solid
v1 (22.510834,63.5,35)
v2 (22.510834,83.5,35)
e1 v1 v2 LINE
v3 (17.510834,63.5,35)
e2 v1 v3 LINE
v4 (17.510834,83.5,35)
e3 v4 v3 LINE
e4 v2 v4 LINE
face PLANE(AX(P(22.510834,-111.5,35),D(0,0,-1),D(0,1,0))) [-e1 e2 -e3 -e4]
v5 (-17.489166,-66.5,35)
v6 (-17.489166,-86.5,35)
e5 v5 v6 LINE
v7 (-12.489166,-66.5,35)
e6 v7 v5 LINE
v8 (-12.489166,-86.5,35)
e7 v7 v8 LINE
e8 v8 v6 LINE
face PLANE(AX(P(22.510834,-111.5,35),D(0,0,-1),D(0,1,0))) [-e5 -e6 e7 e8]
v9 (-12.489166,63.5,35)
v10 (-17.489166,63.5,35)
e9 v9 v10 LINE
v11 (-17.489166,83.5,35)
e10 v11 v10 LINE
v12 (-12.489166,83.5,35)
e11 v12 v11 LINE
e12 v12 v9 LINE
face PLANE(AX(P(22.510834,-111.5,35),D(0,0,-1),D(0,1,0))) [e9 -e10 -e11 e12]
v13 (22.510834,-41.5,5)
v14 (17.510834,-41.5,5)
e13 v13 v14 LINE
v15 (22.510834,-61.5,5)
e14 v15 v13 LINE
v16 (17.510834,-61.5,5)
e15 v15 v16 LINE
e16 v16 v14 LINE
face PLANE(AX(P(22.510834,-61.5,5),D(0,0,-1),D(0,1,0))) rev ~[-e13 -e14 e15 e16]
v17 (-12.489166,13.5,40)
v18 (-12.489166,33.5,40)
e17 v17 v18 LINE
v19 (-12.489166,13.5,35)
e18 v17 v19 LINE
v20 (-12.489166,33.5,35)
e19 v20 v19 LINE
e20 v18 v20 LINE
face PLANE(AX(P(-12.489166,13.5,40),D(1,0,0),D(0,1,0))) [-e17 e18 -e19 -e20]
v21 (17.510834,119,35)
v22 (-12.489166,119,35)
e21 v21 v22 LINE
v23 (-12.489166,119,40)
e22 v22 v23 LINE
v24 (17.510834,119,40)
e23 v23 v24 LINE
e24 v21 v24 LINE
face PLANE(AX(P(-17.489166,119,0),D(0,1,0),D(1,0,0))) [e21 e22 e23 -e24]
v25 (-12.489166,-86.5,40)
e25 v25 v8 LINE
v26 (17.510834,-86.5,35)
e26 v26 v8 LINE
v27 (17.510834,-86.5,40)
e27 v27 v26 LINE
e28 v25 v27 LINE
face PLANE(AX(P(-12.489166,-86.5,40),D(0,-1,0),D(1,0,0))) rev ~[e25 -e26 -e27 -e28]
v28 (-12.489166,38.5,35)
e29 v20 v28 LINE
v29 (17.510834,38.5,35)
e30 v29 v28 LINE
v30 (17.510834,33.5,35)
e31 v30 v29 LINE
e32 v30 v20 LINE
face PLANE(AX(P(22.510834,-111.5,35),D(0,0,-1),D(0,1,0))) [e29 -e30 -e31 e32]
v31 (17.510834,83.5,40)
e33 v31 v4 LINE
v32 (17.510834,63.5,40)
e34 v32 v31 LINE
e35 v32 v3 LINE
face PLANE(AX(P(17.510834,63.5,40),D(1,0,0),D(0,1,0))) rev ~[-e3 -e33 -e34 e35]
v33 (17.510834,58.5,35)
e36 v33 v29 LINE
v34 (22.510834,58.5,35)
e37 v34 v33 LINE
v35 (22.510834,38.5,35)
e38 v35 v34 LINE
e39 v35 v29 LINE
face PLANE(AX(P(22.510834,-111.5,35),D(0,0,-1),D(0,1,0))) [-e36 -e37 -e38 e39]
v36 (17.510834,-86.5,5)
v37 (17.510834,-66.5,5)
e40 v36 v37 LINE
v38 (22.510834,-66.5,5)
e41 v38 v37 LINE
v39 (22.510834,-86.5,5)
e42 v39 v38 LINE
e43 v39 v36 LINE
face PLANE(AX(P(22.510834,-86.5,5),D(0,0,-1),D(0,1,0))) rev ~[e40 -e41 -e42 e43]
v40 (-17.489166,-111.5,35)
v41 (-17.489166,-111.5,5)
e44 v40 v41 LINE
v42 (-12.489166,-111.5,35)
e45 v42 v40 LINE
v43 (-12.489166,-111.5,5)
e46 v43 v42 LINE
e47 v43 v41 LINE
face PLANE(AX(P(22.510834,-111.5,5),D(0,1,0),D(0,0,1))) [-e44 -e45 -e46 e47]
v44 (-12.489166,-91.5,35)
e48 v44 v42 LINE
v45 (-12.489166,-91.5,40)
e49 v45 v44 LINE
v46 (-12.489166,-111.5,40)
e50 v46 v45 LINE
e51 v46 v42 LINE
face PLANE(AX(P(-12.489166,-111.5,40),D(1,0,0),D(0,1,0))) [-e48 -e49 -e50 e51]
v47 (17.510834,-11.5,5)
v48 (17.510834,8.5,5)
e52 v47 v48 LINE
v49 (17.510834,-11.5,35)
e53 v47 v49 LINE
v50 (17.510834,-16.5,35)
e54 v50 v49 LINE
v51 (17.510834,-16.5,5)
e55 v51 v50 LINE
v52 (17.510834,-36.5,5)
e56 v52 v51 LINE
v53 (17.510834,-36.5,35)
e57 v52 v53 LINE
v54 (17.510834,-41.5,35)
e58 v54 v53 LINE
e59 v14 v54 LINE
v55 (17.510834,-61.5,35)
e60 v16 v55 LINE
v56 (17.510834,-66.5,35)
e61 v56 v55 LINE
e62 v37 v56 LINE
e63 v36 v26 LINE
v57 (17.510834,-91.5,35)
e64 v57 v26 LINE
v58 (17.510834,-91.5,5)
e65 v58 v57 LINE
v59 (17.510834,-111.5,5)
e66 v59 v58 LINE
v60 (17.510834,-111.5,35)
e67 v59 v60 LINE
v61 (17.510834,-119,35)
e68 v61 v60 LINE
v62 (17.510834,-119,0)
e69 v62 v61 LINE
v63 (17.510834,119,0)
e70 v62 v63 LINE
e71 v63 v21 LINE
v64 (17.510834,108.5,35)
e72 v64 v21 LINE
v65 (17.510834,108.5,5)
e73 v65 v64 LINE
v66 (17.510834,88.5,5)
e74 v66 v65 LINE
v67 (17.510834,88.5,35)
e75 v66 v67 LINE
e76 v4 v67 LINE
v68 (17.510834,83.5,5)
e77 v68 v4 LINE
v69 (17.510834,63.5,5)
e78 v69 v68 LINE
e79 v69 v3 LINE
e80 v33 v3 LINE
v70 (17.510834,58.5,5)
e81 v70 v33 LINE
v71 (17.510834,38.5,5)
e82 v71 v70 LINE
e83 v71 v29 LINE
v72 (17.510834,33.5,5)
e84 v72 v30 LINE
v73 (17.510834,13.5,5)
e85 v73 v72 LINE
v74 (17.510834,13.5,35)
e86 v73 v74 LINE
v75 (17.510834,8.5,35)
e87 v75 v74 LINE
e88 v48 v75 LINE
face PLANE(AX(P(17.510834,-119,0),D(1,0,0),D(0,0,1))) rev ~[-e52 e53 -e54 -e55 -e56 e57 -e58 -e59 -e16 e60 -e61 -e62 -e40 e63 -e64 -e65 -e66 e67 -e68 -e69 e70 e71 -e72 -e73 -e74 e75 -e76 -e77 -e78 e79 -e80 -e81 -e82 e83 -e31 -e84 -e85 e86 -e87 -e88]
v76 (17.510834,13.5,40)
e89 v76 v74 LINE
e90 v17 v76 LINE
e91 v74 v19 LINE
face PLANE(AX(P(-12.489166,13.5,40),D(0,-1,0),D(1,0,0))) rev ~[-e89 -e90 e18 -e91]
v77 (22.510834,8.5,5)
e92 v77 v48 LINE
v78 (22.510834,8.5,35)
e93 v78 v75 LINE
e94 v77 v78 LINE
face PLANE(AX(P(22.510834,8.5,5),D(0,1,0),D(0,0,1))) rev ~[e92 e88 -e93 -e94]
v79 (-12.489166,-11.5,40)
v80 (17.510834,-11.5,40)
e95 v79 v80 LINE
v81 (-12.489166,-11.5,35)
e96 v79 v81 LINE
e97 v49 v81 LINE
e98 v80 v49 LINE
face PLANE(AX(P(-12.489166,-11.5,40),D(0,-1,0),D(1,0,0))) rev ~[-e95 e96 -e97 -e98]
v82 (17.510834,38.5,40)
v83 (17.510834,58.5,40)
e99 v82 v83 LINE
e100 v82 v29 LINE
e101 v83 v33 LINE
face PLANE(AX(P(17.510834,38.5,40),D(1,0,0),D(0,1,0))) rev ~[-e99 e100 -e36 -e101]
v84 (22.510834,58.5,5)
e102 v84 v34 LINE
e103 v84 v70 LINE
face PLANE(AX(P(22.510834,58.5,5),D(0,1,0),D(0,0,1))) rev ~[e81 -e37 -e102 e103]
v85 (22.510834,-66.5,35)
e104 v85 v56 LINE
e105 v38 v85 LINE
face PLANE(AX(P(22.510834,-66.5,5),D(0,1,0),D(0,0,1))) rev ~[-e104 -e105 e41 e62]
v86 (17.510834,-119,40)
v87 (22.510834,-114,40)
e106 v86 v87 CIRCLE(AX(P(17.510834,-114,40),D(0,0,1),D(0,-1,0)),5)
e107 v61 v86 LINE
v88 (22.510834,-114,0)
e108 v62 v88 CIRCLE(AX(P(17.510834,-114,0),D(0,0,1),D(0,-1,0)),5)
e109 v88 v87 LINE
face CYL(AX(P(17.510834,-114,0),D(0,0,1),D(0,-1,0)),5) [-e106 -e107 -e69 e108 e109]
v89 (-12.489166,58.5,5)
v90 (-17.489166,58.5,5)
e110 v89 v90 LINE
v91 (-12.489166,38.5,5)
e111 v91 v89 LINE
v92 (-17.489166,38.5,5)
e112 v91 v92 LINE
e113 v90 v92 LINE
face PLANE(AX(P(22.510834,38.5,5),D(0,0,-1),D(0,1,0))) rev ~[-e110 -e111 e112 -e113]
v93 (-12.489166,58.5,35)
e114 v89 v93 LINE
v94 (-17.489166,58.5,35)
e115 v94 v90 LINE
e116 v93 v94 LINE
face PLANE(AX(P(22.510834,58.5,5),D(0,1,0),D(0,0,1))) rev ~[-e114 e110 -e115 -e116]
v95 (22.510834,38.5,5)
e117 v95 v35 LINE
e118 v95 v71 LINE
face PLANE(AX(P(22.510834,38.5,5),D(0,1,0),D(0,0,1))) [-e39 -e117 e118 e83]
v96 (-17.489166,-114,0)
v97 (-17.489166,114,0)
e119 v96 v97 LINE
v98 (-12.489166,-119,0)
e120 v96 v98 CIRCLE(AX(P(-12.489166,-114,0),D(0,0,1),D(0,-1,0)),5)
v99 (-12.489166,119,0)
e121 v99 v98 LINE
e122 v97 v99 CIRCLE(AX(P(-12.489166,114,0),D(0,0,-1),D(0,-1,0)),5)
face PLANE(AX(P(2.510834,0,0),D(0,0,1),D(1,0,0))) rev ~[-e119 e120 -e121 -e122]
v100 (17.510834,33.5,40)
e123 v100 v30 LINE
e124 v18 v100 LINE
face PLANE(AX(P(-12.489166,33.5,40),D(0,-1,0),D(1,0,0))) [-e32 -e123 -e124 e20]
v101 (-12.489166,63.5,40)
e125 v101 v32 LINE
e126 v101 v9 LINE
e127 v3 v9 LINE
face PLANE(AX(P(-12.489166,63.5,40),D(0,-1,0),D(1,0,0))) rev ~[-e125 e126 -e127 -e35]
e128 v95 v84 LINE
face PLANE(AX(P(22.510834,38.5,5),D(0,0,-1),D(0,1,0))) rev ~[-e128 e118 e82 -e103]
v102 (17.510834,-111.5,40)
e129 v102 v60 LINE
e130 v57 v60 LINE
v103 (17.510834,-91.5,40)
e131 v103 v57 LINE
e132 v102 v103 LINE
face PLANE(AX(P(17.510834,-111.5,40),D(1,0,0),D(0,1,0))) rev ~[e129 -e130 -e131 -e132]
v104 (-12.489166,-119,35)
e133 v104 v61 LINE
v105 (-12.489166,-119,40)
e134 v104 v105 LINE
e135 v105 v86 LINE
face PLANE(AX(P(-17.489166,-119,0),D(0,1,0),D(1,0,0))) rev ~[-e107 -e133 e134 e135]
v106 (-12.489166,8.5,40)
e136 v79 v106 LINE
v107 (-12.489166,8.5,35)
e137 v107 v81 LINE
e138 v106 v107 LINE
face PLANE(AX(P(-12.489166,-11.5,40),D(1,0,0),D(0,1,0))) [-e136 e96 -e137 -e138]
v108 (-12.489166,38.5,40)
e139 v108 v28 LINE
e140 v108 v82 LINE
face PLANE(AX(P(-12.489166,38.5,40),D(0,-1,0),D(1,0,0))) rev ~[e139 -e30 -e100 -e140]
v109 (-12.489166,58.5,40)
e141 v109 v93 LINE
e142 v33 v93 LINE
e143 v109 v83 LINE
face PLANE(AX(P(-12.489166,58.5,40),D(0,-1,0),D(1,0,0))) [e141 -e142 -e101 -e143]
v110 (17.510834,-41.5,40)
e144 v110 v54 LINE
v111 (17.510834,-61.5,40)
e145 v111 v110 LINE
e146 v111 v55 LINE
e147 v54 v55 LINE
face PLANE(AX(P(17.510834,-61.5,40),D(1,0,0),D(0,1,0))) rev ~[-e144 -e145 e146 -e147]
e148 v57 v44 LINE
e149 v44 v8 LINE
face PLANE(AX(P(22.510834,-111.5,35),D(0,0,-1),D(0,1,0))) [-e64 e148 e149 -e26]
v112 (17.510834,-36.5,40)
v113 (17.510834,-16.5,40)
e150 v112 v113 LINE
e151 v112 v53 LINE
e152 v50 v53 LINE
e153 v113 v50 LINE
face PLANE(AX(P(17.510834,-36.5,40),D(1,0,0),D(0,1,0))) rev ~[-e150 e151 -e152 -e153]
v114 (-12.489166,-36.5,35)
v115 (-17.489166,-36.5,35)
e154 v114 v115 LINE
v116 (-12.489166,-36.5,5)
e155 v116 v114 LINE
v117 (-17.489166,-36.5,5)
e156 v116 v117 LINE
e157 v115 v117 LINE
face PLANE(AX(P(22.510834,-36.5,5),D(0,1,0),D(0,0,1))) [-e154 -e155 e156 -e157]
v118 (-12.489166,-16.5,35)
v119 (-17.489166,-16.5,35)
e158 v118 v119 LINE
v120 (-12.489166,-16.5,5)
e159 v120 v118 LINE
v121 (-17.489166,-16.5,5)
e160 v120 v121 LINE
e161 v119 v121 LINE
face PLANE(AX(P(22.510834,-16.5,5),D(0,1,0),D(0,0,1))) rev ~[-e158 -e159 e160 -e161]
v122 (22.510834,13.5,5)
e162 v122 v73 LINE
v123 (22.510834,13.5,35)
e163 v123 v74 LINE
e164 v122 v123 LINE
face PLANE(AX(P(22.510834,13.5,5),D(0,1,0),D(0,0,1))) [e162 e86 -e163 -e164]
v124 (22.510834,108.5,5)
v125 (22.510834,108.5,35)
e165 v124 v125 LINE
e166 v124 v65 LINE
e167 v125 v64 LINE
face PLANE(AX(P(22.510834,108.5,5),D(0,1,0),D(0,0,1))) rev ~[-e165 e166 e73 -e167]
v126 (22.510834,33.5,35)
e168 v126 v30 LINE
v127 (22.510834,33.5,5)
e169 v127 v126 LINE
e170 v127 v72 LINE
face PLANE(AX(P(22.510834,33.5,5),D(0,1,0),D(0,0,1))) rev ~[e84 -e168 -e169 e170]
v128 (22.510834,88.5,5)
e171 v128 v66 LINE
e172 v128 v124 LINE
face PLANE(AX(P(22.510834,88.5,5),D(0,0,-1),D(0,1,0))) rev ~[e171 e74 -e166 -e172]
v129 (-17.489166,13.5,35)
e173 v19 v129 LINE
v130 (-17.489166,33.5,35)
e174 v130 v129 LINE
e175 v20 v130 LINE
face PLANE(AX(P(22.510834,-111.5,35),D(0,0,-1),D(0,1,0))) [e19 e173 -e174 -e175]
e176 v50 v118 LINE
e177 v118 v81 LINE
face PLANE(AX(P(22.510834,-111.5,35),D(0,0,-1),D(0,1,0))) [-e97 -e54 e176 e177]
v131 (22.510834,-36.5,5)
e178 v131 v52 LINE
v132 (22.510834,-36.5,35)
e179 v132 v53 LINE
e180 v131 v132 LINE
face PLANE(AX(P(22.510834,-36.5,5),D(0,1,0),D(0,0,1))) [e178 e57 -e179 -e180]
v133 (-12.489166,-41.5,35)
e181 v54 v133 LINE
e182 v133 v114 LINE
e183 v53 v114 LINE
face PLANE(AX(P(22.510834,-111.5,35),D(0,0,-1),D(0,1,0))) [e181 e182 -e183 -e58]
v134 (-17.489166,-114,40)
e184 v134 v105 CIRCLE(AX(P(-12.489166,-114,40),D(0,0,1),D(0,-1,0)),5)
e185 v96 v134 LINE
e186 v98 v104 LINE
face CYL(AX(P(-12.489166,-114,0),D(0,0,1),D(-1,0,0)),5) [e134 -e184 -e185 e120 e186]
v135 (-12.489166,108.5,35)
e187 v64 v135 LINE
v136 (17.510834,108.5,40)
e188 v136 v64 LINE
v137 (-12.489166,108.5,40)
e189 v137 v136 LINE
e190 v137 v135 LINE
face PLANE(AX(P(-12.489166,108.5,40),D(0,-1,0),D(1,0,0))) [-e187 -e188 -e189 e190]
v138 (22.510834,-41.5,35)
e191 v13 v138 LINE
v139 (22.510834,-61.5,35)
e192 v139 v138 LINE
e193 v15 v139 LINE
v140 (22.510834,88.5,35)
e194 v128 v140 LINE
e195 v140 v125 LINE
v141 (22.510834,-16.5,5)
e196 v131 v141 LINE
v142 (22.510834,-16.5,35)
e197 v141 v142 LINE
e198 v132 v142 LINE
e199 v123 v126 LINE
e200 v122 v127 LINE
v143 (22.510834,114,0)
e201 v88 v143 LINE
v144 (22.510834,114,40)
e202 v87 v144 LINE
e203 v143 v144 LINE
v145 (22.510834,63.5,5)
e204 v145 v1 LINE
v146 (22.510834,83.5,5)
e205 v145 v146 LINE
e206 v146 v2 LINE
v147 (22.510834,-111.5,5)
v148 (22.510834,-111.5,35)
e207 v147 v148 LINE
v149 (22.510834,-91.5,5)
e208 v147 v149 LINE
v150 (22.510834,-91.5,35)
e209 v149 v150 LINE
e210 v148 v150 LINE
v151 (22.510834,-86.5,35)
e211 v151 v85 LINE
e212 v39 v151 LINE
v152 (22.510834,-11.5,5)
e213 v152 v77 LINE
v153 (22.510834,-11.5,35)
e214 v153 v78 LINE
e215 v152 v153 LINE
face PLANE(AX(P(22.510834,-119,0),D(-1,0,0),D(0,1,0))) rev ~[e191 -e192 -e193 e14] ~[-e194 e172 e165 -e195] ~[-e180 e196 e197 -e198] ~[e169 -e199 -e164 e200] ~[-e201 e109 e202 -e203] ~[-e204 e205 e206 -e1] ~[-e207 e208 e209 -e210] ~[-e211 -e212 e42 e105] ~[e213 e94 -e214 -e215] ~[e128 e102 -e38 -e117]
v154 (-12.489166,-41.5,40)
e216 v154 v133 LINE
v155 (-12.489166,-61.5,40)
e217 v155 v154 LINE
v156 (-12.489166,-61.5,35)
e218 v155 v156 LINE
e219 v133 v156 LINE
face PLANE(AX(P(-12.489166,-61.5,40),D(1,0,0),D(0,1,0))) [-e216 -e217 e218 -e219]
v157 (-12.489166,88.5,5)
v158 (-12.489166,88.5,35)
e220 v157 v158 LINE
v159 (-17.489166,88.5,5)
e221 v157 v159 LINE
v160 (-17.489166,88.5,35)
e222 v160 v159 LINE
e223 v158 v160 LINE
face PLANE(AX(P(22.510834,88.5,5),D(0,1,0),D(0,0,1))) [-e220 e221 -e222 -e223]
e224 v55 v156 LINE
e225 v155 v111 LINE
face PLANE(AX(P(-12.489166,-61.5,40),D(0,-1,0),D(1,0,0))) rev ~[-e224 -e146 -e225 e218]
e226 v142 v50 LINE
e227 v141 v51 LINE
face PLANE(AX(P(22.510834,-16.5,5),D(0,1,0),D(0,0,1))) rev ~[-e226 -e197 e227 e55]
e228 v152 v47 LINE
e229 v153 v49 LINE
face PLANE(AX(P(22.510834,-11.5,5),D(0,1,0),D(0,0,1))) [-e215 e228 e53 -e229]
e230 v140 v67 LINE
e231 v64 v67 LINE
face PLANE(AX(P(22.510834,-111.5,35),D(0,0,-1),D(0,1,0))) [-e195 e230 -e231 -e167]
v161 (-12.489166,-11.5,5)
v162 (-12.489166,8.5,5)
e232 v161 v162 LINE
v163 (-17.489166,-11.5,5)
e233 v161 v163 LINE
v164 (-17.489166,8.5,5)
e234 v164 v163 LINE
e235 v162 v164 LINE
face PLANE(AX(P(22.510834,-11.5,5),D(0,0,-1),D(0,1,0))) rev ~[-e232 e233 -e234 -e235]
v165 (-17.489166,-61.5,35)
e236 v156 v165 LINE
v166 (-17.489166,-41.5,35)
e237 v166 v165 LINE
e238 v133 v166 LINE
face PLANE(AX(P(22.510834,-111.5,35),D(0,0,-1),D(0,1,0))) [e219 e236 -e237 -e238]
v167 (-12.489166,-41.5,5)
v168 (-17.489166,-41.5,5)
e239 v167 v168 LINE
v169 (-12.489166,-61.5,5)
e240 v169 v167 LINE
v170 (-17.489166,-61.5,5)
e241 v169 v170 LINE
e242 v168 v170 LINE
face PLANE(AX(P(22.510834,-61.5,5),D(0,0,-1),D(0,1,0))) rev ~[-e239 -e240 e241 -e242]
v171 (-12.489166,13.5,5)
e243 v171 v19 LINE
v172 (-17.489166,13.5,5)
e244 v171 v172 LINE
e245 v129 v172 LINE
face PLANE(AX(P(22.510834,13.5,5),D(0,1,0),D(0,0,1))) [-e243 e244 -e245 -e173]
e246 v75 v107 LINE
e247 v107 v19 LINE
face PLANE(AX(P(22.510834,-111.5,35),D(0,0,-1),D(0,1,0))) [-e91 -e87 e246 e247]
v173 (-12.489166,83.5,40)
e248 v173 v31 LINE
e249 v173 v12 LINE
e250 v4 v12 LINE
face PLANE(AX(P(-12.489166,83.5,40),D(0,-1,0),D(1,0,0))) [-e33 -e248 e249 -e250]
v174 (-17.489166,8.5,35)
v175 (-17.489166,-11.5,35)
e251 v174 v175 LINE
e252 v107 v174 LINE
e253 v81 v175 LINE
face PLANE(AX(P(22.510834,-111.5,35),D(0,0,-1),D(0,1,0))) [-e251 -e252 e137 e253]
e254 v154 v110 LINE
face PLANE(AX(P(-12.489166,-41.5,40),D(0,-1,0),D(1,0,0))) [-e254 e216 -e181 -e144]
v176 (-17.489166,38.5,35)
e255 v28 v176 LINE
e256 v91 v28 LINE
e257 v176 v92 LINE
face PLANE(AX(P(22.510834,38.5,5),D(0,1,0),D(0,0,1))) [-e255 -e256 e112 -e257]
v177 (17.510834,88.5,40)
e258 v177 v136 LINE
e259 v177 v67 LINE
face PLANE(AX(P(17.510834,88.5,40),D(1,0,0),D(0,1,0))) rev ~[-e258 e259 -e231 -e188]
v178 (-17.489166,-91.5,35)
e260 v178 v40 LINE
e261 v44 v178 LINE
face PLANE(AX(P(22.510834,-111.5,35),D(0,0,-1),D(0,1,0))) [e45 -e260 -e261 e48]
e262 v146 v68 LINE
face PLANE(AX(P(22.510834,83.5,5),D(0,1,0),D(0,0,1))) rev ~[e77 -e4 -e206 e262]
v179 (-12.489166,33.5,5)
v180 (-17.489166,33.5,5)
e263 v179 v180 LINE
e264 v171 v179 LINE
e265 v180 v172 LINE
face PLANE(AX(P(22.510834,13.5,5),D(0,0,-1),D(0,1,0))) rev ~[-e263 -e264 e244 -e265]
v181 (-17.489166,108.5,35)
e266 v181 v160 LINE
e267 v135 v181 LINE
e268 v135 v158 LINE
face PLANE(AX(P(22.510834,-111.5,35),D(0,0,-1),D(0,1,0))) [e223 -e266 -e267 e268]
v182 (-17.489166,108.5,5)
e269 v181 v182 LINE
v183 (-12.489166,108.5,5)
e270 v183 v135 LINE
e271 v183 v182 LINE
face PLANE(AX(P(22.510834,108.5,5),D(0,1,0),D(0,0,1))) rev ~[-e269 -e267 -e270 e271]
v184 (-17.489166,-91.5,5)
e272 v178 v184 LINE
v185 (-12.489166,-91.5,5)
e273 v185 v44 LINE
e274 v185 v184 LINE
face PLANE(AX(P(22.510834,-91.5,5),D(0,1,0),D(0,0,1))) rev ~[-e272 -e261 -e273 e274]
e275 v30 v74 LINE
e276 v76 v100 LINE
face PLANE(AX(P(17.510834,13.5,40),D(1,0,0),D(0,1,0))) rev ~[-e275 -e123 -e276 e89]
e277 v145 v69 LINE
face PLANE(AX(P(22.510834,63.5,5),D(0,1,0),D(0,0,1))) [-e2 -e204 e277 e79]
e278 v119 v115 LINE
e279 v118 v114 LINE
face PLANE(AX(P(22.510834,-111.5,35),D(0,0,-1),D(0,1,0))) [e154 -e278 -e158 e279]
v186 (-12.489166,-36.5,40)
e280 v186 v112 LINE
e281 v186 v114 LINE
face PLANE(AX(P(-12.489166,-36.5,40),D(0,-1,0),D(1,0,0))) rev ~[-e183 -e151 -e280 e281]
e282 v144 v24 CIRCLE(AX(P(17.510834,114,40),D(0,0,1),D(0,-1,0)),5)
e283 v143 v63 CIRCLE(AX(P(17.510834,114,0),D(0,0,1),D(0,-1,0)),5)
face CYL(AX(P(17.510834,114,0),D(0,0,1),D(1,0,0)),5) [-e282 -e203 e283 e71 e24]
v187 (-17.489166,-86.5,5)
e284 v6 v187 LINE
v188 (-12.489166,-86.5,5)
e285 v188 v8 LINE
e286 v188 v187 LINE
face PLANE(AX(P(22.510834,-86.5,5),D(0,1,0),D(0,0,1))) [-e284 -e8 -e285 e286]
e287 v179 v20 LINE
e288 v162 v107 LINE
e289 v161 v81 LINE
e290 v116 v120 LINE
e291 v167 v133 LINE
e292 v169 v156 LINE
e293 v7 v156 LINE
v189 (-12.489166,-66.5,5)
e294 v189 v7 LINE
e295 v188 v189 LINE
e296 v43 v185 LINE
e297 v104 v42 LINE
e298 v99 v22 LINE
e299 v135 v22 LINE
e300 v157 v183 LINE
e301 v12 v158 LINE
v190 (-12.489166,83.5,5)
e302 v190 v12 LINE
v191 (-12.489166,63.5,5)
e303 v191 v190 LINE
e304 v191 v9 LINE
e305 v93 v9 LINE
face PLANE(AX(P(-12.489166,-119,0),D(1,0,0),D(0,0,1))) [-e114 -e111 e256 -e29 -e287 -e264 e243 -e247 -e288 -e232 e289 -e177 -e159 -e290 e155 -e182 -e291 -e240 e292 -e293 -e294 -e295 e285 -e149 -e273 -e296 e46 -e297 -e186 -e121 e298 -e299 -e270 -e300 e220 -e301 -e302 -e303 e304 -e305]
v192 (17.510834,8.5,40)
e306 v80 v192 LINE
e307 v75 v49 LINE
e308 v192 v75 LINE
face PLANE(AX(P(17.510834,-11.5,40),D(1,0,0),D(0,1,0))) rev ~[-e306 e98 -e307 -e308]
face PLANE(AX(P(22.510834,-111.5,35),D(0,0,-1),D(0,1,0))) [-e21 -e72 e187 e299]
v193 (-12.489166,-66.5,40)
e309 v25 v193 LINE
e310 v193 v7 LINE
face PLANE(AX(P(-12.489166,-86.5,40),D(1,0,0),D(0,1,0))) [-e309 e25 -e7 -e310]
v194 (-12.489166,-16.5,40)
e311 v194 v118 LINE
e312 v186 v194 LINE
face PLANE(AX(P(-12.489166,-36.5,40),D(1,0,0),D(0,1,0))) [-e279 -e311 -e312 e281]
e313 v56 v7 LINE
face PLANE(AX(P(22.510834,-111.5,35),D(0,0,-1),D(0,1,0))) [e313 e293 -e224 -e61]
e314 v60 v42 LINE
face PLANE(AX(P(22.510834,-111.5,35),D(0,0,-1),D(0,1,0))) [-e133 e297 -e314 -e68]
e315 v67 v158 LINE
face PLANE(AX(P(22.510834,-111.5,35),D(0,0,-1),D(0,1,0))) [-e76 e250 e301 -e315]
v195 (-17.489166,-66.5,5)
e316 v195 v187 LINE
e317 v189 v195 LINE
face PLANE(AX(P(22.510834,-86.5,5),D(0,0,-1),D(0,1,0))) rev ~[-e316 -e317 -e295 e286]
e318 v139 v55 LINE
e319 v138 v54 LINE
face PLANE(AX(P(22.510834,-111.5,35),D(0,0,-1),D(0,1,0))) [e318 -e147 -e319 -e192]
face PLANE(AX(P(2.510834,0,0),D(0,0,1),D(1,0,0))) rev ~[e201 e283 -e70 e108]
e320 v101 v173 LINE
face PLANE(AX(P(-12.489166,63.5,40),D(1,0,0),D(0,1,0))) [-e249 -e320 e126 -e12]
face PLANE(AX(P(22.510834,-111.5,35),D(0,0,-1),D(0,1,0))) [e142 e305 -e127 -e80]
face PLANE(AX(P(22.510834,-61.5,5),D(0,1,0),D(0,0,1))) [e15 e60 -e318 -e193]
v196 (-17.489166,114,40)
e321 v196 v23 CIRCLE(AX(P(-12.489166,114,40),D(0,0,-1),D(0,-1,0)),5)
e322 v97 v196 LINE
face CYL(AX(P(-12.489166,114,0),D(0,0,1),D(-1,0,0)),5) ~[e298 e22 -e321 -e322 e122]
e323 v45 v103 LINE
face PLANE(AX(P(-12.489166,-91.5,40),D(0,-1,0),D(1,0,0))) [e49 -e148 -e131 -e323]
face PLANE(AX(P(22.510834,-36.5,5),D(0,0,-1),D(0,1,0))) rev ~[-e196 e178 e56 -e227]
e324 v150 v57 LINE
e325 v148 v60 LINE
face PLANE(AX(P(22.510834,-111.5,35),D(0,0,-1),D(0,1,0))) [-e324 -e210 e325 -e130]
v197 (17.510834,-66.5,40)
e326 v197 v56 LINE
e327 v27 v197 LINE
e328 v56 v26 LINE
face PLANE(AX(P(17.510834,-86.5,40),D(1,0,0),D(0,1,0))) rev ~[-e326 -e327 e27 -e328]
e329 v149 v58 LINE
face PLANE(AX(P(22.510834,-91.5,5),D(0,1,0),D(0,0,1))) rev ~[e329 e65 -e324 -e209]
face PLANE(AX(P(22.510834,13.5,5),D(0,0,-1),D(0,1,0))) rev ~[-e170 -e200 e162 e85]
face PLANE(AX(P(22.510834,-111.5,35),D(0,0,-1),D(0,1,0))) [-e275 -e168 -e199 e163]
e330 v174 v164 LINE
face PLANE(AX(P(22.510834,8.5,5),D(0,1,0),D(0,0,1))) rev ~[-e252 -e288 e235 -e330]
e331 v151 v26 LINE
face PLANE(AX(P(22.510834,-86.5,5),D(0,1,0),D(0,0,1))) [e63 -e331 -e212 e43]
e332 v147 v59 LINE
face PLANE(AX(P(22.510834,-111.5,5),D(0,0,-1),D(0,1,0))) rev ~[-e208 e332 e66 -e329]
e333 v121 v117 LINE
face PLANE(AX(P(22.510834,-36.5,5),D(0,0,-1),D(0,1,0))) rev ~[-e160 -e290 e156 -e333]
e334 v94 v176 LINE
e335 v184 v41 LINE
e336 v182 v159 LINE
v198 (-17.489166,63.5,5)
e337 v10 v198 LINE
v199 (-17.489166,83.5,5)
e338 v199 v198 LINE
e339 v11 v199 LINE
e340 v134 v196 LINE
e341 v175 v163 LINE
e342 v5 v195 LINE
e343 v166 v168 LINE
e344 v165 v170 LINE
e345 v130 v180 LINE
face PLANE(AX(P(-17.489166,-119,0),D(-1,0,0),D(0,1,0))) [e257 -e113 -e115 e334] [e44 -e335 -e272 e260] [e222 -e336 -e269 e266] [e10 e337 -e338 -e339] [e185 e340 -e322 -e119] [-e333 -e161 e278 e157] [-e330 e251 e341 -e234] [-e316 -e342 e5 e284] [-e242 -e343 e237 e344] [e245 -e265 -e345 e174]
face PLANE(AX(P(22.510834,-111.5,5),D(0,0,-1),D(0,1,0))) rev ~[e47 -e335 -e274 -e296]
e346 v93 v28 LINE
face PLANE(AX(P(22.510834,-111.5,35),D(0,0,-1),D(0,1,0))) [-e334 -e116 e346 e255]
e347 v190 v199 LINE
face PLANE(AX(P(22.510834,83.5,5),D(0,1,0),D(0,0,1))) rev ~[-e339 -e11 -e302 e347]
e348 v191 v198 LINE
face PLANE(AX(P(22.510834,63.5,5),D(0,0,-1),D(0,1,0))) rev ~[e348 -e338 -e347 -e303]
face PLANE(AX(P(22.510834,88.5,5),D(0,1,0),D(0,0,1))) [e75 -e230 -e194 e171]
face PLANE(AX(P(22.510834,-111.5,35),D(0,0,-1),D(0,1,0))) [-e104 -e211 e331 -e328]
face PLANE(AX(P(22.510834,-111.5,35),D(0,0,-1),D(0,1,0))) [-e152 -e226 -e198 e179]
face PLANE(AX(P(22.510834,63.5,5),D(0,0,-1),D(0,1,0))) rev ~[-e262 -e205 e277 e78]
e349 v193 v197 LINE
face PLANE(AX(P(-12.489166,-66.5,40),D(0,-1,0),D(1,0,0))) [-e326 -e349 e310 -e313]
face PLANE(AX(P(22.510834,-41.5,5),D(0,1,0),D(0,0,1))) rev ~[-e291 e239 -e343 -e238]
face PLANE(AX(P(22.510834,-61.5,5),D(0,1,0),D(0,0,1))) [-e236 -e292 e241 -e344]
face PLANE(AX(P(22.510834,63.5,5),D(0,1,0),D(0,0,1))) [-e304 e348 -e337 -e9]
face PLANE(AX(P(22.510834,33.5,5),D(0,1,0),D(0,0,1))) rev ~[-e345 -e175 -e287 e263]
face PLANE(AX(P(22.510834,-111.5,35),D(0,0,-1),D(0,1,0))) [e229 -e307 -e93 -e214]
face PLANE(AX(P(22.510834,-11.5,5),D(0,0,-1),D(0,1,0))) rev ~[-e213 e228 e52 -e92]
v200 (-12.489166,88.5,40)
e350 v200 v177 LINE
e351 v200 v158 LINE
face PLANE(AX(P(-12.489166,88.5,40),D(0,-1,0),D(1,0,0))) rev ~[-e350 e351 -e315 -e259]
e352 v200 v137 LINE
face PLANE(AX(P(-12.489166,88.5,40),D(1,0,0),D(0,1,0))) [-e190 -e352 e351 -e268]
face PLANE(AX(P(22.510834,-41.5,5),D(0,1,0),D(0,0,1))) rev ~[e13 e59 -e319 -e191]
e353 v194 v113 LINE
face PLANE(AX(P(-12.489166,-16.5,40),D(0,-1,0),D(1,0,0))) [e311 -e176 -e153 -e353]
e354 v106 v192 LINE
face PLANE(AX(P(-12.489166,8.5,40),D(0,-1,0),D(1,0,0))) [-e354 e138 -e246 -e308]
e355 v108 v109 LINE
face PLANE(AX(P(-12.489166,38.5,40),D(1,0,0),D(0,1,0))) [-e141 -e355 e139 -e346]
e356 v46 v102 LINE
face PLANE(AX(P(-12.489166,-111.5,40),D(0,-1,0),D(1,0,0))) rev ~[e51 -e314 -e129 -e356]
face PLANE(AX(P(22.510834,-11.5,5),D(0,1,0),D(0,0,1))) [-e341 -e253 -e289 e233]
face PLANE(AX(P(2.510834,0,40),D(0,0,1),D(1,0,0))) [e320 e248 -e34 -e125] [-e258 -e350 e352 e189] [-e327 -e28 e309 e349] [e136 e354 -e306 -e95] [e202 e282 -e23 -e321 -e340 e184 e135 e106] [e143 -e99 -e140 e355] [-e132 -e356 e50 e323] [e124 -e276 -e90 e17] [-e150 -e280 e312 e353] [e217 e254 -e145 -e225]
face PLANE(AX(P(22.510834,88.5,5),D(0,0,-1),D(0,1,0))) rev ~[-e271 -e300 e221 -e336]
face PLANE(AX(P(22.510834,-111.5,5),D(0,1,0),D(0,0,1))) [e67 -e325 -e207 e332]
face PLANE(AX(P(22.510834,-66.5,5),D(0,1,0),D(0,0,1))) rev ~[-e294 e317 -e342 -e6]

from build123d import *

# Parameters (mm, degrees)
F0_W     = 40
F0_H     = 238
F1_DEPTH = 40
F2_R     = 5
F3_W     = 30
F3_H     = 35
F4_DEPTH = 238.001
F5_W     = 20
F5_H     = 30
F6_DEPTH = 40.001
F7_W     = 30
F7_H     = 20
F8_DEPTH = 40.001


with BuildPart() as f1:
    # F0 (on Top) → F1 (new body)
    with BuildSketch(Plane.XY):
        with Locations((2.510834, 0)):
            Rectangle(F0_W, F0_H)
    extrude(amount=F1_DEPTH)

    # F2
    f2_edges = [f1.edges().sort_by_distance(p)[0] for p in [
        (22.510834, -119, 20),
        (-17.489166, -119, 20),
        (22.510834, 119, 20),
        (-17.489166, 119, 20),
    ]]
    fillet(f2_edges, radius=F2_R)

    # F3 (on face) → F4 (cut, through all)
    with BuildSketch(Plane.XZ.offset(119)):
        with Locations((2.510834, 17.5)):
            Rectangle(F3_W, F3_H)
    extrude(amount=-F4_DEPTH, mode=Mode.SUBTRACT)

    # F5 (on face) → F6 (cut, through all)
    with BuildSketch(Plane.YZ.offset(22.510834)):
        with Locations((-101.5, 20)):
            Rectangle(F5_W, F5_H)
        with Locations((-76.5, 20)):
            Rectangle(F5_W, F5_H)
        with Locations((-51.5, 20)):
            Rectangle(F5_W, F5_H)
        with Locations((-26.5, 20)):
            Rectangle(F5_W, F5_H)
        with Locations((-1.5, 20)):
            Rectangle(F5_W, F5_H)
        with Locations((23.5, 20)):
            Rectangle(F5_W, F5_H)
        with Locations((48.5, 20)):
            Rectangle(F5_W, F5_H)
        with Locations((73.5, 20)):
            Rectangle(F5_W, F5_H)
        with Locations((98.5, 20)):
            Rectangle(F5_W, F5_H)
    extrude(amount=-F6_DEPTH, mode=Mode.SUBTRACT)

    # F7 (on face) → F8 (cut, through all)
    with BuildSketch(Plane.XY.offset(40)):
        with Locations((2.510834, -101.5)):
            Rectangle(F7_W, F7_H)
        with Locations((2.510834, -76.5)):
            Rectangle(F7_W, F7_H)
        with Locations((2.510834, -51.5)):
            Rectangle(F7_W, F7_H)
        with Locations((2.510834, -26.5)):
            Rectangle(F7_W, F7_H)
        with Locations((2.510834, -1.5)):
            Rectangle(F7_W, F7_H)
        with Locations((2.510834, 23.5)):
            Rectangle(F7_W, F7_H)
        with Locations((2.510834, 48.5)):
            Rectangle(F7_W, F7_H)
        with Locations((2.510834, 73.5)):
            Rectangle(F7_W, F7_H)
        with Locations((2.510834, 98.5)):
            Rectangle(F7_W, F7_H)
    extrude(amount=-F8_DEPTH, mode=Mode.SUBTRACT)


solid = f1.part
